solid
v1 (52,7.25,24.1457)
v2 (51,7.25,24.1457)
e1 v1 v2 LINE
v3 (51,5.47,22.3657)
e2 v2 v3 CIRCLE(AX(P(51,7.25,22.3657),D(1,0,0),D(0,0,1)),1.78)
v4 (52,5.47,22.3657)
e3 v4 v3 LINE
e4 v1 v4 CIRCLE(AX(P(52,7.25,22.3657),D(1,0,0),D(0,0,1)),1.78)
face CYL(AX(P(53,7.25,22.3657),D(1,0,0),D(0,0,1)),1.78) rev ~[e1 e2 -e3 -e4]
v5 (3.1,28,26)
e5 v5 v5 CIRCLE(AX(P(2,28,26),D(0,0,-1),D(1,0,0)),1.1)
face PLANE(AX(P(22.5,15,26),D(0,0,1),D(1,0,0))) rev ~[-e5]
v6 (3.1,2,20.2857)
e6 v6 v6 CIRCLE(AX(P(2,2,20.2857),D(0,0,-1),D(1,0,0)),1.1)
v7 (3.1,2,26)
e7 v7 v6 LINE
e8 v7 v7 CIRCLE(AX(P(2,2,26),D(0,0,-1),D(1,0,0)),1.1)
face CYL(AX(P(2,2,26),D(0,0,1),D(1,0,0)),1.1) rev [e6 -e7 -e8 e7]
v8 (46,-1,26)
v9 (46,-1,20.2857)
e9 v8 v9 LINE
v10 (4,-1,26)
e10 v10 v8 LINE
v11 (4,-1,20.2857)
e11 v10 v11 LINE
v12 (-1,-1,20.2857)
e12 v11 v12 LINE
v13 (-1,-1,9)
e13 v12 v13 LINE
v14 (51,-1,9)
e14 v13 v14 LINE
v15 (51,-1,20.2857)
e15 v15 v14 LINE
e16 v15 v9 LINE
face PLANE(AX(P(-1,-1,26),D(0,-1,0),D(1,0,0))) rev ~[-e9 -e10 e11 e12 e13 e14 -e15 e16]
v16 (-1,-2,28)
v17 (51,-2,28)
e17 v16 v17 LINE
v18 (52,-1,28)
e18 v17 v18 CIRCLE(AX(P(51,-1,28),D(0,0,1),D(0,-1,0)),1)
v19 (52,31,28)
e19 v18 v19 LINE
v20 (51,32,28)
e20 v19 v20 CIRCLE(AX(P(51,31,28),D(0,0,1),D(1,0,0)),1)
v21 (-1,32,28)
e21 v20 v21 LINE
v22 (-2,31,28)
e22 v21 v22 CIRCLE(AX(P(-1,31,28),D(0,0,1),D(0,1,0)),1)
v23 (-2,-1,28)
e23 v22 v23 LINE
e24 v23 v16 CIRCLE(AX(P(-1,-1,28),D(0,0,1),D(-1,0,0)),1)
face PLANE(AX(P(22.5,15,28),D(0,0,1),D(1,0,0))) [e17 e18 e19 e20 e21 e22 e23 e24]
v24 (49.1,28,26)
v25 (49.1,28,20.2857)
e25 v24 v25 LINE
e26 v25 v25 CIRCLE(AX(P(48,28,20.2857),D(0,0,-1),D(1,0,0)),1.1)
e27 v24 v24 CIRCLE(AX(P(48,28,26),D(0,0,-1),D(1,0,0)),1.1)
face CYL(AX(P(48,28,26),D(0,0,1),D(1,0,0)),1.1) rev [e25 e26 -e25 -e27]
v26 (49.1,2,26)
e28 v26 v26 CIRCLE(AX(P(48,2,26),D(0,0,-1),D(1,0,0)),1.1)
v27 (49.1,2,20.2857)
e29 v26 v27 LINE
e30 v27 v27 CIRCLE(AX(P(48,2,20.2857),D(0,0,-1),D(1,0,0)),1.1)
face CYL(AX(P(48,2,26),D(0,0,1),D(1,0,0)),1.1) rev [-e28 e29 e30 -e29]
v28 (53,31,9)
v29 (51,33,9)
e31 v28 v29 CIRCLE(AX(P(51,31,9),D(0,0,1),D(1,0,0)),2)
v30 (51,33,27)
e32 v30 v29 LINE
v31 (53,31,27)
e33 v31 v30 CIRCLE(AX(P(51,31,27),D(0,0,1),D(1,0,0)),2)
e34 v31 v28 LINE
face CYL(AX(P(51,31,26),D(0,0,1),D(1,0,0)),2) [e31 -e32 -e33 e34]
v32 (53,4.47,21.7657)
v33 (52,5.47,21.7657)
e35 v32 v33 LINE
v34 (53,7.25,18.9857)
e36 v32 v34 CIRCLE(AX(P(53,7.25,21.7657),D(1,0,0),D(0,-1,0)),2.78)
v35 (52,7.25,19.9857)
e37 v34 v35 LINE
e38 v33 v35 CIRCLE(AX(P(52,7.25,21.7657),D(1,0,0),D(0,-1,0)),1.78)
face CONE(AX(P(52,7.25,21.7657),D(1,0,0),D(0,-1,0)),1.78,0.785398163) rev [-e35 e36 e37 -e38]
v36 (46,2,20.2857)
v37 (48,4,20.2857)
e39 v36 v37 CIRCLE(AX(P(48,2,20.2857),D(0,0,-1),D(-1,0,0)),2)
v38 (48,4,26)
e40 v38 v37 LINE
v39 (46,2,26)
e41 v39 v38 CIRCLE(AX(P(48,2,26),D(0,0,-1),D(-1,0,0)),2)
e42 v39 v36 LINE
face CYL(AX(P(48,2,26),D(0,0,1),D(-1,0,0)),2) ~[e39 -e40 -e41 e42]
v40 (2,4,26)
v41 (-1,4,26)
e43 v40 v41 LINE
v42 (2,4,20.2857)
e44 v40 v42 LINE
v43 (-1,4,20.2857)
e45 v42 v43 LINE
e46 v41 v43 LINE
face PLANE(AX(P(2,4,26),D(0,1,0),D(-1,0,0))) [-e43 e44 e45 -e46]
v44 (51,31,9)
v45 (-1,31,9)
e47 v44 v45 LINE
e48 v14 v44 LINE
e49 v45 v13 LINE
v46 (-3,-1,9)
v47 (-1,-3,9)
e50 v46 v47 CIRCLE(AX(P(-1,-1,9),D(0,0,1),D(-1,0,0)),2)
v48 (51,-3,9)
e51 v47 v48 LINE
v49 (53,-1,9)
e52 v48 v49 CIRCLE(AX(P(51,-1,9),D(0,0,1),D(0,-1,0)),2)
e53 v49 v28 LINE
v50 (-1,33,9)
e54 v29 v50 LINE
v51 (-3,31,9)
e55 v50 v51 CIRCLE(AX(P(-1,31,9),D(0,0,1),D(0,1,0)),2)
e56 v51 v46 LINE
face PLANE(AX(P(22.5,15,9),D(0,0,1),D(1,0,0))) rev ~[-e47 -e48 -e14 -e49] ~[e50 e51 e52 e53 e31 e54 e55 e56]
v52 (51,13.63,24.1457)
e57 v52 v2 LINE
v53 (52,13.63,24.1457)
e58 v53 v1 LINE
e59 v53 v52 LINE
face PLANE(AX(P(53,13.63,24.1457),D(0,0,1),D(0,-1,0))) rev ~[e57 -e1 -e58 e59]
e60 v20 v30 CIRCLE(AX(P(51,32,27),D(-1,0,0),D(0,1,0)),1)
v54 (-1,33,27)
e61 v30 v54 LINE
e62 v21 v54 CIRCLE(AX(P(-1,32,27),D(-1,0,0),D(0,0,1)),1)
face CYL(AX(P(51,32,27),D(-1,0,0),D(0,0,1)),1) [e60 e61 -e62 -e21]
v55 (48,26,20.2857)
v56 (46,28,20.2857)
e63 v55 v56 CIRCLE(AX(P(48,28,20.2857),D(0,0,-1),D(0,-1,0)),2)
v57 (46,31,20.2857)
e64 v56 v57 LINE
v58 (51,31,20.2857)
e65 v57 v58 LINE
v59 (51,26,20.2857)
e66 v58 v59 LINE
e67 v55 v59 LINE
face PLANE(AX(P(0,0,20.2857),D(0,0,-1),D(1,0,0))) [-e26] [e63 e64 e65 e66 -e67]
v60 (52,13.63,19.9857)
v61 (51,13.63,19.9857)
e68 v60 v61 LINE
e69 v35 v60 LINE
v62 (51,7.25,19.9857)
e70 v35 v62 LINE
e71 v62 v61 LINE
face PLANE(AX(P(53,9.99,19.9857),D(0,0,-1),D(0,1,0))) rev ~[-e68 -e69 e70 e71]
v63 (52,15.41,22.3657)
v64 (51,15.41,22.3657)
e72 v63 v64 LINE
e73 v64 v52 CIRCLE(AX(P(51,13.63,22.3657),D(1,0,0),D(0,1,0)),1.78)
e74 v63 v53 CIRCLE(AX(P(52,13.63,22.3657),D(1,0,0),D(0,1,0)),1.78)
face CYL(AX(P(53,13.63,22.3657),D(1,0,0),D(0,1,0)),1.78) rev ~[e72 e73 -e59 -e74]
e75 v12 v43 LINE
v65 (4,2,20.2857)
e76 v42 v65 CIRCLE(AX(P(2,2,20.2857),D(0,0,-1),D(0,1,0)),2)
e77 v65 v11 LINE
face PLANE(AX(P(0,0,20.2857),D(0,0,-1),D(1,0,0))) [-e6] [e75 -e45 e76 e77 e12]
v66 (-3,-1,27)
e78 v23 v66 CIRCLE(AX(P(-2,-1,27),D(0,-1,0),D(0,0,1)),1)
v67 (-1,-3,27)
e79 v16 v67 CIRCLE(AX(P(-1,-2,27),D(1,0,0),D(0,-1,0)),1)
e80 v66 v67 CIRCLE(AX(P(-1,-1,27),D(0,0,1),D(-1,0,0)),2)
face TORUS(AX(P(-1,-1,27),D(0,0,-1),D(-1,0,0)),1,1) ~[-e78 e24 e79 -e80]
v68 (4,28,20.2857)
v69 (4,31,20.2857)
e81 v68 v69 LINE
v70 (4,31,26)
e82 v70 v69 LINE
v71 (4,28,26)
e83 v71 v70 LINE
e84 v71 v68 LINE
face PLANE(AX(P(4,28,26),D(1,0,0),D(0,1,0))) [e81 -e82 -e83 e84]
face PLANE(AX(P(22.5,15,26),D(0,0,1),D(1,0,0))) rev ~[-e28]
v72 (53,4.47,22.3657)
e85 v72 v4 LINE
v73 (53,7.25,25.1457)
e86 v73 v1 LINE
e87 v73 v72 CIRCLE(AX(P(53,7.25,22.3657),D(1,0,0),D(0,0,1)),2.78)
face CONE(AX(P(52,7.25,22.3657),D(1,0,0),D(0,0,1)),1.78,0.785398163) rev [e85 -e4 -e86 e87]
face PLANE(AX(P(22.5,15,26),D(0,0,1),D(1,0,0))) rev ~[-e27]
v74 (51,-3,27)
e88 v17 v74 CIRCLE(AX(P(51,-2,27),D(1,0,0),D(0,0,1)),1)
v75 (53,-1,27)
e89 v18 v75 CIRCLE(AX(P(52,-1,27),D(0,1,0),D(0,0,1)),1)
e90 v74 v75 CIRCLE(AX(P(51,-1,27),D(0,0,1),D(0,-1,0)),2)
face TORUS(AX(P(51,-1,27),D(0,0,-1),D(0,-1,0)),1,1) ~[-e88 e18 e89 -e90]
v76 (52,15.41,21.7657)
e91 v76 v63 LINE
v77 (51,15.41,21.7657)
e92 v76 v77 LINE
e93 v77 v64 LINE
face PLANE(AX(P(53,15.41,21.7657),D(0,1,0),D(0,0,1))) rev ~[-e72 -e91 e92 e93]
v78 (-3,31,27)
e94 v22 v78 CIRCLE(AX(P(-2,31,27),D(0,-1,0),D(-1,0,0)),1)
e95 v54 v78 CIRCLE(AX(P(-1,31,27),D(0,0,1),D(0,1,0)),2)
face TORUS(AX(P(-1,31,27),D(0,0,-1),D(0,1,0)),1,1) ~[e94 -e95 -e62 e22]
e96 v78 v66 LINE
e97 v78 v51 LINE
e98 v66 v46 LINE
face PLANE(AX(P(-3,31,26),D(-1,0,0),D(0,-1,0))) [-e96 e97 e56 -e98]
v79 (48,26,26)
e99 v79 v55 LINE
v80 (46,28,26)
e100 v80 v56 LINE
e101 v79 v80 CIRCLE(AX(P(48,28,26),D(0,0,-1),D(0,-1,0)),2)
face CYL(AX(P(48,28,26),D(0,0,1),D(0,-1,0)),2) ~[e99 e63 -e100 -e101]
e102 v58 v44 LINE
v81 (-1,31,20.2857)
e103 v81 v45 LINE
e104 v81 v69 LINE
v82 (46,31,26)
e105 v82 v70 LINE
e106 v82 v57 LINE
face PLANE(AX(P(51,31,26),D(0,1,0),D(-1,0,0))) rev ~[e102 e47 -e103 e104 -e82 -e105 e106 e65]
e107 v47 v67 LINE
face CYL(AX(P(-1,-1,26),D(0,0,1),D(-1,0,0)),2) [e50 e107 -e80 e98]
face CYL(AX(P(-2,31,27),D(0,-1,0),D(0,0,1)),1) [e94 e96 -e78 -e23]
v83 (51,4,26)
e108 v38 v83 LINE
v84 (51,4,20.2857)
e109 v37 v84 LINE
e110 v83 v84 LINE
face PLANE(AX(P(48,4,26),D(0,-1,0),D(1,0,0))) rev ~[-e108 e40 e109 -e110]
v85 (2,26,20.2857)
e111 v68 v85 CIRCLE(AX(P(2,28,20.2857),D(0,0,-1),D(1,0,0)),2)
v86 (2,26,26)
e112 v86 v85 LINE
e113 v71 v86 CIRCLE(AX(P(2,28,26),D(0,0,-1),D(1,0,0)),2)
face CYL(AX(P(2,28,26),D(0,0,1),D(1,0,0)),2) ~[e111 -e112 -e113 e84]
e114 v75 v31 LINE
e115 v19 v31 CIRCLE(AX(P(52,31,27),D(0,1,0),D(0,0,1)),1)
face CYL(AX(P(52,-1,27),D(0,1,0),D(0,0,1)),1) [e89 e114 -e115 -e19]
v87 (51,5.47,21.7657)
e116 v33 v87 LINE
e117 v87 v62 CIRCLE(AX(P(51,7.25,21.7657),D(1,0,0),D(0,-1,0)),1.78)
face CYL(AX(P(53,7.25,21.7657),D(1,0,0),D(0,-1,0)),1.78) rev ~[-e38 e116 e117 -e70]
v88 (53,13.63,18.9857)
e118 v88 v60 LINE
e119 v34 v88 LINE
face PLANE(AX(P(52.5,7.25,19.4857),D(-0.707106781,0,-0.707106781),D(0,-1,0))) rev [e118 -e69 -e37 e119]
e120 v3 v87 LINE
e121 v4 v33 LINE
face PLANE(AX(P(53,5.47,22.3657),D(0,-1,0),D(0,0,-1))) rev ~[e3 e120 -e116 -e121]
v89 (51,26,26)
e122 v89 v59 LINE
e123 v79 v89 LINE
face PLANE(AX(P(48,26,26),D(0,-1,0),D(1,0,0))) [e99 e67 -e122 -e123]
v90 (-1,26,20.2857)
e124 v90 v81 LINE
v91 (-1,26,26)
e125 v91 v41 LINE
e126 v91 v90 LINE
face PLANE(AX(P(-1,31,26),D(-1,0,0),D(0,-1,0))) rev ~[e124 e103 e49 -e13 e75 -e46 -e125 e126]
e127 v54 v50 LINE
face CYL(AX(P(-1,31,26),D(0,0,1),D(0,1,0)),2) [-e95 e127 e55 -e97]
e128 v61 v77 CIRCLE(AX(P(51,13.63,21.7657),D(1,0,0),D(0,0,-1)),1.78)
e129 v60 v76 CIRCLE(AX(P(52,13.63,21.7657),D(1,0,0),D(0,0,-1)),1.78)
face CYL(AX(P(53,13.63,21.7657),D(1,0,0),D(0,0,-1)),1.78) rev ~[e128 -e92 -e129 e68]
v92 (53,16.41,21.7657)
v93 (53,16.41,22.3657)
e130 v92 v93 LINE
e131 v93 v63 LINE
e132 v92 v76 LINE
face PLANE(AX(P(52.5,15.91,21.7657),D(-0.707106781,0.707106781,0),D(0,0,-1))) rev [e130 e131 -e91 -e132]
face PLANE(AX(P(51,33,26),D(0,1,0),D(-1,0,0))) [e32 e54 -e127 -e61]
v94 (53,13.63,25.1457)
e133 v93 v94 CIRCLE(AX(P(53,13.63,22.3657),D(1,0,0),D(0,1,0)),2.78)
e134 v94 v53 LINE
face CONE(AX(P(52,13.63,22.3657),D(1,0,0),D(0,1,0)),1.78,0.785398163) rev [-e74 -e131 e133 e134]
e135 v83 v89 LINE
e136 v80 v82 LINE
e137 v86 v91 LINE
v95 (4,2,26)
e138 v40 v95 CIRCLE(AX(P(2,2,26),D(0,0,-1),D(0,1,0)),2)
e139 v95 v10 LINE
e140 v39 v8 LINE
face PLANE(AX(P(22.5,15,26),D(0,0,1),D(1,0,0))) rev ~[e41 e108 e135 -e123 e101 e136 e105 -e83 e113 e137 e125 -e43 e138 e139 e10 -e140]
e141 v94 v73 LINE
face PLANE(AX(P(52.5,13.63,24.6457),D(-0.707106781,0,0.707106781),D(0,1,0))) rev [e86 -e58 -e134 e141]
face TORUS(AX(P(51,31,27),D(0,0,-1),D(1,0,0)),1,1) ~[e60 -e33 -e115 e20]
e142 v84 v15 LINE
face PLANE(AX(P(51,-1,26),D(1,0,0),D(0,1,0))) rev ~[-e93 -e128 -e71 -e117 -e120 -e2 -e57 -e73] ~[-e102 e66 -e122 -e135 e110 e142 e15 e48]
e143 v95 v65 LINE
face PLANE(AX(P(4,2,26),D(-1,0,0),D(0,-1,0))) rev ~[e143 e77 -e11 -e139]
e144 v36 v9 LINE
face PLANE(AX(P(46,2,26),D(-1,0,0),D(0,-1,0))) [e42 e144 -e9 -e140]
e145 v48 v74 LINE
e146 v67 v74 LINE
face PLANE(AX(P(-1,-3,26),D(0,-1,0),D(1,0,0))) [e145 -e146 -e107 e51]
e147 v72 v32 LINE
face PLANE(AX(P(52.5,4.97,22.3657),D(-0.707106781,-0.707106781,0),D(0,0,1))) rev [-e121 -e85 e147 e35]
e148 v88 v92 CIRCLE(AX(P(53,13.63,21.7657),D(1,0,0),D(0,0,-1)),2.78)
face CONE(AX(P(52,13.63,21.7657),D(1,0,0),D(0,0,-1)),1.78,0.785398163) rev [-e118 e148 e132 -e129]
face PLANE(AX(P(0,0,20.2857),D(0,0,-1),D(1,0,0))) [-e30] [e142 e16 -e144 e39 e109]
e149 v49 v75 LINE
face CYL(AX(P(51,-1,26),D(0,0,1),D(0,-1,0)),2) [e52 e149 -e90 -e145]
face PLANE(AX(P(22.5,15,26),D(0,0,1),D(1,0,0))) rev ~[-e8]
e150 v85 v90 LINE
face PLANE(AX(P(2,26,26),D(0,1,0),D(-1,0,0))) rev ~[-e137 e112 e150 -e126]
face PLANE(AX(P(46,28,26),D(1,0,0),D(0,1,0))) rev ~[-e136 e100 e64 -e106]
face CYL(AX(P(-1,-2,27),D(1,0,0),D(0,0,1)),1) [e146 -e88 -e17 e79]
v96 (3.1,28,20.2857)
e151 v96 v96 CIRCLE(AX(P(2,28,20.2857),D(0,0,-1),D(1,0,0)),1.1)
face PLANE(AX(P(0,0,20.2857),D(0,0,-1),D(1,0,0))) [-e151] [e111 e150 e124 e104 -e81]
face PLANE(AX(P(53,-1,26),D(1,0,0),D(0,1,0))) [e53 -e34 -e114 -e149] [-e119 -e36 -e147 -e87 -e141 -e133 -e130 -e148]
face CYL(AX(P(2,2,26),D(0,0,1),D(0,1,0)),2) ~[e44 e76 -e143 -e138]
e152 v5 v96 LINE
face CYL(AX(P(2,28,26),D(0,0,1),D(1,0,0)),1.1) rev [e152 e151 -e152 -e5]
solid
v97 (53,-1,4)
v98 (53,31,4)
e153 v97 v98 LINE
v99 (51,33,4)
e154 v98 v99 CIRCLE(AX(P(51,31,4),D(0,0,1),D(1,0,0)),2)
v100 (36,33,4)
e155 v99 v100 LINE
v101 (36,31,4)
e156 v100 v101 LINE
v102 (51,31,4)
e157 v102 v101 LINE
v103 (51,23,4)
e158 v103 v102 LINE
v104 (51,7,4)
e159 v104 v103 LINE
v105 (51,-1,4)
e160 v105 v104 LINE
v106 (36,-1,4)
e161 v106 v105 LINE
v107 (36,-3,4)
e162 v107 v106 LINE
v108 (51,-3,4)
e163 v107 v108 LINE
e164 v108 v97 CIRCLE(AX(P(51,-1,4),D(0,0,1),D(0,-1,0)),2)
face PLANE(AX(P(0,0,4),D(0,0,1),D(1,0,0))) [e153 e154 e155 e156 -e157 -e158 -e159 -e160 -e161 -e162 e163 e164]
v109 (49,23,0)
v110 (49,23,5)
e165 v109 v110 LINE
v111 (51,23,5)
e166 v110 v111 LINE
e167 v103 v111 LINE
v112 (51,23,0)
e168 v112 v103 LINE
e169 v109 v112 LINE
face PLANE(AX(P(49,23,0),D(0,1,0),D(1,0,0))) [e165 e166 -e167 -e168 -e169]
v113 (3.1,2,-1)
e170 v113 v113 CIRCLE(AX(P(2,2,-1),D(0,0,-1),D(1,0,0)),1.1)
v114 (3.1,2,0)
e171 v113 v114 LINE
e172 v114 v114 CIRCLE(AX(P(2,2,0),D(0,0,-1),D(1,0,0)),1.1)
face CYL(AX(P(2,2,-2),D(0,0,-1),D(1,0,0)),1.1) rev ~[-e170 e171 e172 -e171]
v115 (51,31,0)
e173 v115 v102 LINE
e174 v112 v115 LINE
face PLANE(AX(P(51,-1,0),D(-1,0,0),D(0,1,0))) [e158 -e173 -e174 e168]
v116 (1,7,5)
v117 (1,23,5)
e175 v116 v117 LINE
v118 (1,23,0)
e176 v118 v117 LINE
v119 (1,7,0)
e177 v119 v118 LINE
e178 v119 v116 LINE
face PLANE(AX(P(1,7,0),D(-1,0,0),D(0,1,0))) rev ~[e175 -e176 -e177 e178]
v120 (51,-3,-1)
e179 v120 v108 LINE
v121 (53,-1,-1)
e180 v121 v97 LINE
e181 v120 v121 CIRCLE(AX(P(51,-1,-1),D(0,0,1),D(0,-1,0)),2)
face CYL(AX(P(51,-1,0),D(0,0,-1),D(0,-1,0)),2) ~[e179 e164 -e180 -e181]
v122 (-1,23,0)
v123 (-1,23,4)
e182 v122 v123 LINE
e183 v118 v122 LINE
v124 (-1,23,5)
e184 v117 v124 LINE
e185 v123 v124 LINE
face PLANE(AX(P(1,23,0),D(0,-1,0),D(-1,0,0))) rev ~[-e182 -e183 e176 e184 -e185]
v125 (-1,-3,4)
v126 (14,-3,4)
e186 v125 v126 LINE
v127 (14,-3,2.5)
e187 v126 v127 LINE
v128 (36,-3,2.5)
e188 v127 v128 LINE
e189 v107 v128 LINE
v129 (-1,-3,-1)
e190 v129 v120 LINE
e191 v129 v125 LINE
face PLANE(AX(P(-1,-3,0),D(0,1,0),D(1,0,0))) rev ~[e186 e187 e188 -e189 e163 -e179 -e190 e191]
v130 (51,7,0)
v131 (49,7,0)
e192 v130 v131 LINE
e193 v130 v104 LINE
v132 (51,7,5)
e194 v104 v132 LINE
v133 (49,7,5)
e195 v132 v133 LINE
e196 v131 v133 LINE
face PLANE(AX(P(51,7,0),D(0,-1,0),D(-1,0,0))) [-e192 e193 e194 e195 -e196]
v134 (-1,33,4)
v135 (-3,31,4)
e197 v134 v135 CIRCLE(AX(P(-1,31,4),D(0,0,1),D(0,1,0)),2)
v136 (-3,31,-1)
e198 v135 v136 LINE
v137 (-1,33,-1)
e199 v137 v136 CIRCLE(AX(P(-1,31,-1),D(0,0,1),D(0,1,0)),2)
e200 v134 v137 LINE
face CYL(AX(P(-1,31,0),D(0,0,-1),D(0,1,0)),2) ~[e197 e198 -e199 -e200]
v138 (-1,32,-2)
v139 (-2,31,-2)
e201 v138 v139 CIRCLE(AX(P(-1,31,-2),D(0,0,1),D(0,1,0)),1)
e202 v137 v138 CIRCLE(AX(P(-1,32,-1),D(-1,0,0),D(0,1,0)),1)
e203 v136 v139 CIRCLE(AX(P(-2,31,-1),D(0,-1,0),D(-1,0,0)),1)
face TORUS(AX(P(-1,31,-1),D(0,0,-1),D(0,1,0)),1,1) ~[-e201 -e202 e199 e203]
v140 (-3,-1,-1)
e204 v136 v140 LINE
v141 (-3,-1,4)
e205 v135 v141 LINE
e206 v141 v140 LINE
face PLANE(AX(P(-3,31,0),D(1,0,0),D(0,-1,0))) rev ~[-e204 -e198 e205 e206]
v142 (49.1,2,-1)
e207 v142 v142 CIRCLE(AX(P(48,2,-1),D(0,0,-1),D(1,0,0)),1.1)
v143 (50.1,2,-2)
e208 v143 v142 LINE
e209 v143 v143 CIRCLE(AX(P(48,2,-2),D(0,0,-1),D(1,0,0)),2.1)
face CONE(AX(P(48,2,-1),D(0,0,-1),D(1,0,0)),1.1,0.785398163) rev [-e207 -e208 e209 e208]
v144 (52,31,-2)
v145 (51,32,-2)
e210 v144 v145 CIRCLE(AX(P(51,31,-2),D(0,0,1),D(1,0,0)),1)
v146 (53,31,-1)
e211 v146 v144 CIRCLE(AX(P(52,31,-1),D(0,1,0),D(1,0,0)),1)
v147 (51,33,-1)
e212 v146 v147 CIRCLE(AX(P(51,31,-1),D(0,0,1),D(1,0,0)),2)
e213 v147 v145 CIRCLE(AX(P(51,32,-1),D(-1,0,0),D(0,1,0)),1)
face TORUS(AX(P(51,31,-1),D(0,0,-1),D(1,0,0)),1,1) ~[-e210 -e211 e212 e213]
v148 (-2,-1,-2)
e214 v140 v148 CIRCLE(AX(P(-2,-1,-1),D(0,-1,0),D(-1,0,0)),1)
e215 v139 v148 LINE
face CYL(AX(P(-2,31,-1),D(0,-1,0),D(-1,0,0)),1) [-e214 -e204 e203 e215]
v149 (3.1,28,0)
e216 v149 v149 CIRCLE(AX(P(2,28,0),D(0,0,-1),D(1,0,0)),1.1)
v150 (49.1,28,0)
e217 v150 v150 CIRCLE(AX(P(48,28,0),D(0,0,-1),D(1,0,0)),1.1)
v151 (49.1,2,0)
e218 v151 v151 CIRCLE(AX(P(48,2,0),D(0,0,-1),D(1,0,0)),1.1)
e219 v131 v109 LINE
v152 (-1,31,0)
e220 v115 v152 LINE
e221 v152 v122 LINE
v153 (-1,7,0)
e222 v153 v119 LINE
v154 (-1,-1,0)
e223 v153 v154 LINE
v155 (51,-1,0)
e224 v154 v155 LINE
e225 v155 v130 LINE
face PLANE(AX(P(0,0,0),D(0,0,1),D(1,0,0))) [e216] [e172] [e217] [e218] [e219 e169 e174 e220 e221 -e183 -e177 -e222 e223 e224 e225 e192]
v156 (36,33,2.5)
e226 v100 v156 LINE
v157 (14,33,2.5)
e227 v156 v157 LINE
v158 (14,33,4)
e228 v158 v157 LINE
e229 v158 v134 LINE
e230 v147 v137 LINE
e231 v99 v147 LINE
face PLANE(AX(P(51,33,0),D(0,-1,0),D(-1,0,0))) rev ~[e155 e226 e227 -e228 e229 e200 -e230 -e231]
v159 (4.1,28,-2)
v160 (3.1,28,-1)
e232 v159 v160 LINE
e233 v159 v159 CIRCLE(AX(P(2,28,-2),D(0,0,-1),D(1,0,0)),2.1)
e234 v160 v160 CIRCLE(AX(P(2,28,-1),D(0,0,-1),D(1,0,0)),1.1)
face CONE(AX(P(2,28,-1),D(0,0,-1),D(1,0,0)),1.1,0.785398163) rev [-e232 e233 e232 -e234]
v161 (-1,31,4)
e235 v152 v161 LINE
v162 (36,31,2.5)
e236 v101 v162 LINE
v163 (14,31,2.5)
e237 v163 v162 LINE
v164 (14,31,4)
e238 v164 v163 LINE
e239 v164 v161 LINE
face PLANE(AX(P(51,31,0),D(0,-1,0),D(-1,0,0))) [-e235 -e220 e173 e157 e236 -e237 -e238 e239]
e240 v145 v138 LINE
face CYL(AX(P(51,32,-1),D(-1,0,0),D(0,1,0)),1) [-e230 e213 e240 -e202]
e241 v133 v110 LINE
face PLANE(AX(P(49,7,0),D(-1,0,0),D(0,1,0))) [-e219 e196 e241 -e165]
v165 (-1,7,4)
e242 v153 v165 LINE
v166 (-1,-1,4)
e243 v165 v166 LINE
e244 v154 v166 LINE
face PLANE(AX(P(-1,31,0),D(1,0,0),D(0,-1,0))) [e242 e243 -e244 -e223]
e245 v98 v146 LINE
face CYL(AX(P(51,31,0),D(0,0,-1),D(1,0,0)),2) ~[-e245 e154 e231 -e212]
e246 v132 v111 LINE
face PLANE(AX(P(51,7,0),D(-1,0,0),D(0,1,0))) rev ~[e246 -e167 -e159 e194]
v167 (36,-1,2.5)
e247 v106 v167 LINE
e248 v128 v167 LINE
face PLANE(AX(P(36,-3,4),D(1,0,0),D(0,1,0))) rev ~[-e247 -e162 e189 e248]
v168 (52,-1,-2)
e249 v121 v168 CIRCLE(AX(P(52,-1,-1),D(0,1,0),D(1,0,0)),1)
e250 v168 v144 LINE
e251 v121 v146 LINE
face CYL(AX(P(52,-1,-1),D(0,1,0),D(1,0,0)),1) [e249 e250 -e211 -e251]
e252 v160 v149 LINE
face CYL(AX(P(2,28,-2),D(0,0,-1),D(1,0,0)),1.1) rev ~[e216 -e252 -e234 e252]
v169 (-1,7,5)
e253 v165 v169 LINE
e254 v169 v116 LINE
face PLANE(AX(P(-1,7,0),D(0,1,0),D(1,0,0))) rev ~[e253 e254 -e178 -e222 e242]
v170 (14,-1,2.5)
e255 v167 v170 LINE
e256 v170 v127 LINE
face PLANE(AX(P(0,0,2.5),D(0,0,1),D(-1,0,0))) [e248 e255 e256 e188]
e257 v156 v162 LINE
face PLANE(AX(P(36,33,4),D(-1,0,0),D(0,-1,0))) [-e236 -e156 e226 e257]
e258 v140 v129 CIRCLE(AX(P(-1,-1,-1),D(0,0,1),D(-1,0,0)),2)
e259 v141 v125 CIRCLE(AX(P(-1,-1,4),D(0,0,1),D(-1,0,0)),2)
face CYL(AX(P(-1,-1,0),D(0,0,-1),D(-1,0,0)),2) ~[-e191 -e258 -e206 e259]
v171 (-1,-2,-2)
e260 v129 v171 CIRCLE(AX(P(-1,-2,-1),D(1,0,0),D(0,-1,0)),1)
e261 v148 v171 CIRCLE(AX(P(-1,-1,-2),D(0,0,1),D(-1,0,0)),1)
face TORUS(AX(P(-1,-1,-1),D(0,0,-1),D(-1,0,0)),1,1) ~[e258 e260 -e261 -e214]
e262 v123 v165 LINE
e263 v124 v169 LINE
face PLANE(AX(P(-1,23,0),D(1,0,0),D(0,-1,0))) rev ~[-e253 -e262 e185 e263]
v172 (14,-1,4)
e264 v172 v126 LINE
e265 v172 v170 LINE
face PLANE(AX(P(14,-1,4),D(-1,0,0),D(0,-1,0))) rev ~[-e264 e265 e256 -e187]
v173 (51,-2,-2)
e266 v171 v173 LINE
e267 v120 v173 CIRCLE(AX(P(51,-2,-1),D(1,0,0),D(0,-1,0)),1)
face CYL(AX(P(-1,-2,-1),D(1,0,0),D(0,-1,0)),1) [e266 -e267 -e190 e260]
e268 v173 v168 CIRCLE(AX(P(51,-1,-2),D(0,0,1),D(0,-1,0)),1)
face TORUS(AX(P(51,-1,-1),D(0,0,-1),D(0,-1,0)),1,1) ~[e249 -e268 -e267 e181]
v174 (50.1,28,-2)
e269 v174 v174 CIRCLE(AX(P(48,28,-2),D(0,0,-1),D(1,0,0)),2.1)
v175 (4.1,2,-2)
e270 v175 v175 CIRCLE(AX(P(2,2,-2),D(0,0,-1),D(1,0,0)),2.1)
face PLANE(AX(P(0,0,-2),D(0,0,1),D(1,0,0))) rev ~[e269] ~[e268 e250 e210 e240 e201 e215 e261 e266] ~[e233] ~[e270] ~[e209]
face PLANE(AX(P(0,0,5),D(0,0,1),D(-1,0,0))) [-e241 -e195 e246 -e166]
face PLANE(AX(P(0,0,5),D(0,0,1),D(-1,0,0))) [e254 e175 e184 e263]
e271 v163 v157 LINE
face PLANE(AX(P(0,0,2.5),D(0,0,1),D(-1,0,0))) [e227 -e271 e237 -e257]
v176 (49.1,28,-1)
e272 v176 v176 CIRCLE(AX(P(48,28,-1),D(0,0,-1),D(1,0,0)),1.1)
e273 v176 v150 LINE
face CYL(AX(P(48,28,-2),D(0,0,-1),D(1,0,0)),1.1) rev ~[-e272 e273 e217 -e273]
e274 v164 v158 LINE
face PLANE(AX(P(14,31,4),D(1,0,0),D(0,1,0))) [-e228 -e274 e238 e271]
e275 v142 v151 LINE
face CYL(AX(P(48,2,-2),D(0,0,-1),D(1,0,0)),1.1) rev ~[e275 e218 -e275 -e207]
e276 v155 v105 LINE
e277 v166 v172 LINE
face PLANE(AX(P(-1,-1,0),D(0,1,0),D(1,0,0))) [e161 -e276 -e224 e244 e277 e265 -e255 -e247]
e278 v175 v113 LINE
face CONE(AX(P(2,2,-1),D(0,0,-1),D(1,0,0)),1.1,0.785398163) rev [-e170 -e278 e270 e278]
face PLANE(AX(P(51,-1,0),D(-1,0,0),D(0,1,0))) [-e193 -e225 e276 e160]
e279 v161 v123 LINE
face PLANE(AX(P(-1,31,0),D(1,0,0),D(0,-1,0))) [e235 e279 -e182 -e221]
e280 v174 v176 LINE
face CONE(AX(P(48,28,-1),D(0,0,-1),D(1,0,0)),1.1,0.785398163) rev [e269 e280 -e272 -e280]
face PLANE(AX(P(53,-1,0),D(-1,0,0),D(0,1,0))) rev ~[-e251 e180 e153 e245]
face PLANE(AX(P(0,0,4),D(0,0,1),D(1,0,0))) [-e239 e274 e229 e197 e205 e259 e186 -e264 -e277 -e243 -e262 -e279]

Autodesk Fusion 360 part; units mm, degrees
sketch "Sketch1" plane through (0, 0, 0) normal (0, 0, 1) x (1, 0, 0) in component "Enclosure-Bottom"
  line L0 (0, 0) -> (50, 0) construction
  line L1 (50, 0) -> (50, 30) construction
  line L2 (50, 30) -> (0, 30) construction
  line L3 (0, 30) -> (0, 0) construction
  line L4 (-1, -1) -> (51, -1)
  line L5 (51, -1) -> (51, 31)
  line L6 (51, 31) -> (-1, 31)
  line L7 (-1, 31) -> (-1, -1)
  line L8 (-1, -3) -> (51, -3)
  line L9 (53, -1) -> (53, 31)
  line L10 (51, 33) -> (-1, 33)
  line L11 (-3, 31) -> (-3, -1)
  arc A0 (53, 31) -> (51, 33) centre (51, 31) ccw
  arc A1 (-1, 33) -> (-3, 31) centre (-1, 31) ccw
  arc A2 (-3, -1) -> (-1, -3) centre (-1, -1) ccw
  arc A3 (51, -3) -> (53, -1) centre (51, -1) ccw
  dimension "d1" = 50
  dimension "d2" = 30
  dimension "d5" = 1
  dimension "d9" = 2
  dimension "d23" = 3
  dimension "d25" = 3
  dimension "d26" = 3
  dimension "d27" = 3
extrude "Extrude1" add sketch "Sketch1" against normal blind 2 contours L4 L5 L6 L7 | L8 L9 L10 L11 A0 A1 A2 A3 makes body 1 in component "Enclosure-Bottom"
extrude "Extrude2" add sketch "Sketch1" along normal blind 4 bodies 1 in component "Enclosure-Bottom"
ref_plane "WorkPlane1" through (25, 15, 26) normal (0, 0, 1) x (1, 0, 0)
sketch "Sketch1 (2)" plane through (22.5, 15, 26) normal (0, 0, 1) x (1, 0, 0) in component "Enclosure-Top"
  line L0 (-23.5, -16) -> (28.5, -16)
  line L1 (-23.5, 16) -> (-23.5, -16)
  line L2 (28.5, 16) -> (-23.5, 16)
  line L3 (28.5, -16) -> (28.5, 16)
  line L4 (-23.5, -18) -> (28.5, -18)
  arc A0 (28.5, -18) -> (30.5, -16) centre (28.5, -16) ccw
  line L5 (30.5, -16) -> (30.5, 16)
  line L6 (-25.5, 16) -> (-25.5, -16)
  arc A1 (-25.5, -16) -> (-23.5, -18) centre (-23.5, -16) ccw
  line L7 (28.5, 18) -> (-23.5, 18)
  arc A2 (-23.5, 18) -> (-25.5, 16) centre (-23.5, 16) ccw
  arc A3 (30.5, 16) -> (28.5, 18) centre (28.5, 16) ccw
extrude "Extrude1'" add sketch "Sketch1 (2)" against normal blind 17 separate body makes body 2 in component "Enclosure-Top"
extrude "Extrude2'" add sketch "Sketch1 (2)" along normal blind 2 contours L0 L1 L2 L3 | L4 A0 L5 L6 A1 L7 A2 A3 bodies 2 in component "Enclosure-Top"
fillet "Fillet1" radius 1 8 edges at (53, 15, 28) (52.4142, 32.4142, 28) (25, 33, 28) (-2.4142, 32.4142, 28) (-3, 15, 28) (-2.4142, -2.4142, 28) (25, -3, 28) (52.4142, -2.4142, 28) on bodies 2 in component "Enclosure-Top"
fillet "Fillet1'" radius 1 8 edges at (-3, 15, -2) (-2.4142, 32.4142, -2) (25, 33, -2) (52.4142, 32.4142, -2) (53, 15, -2) (52.4142, -2.4142, -2) (25, -3, -2) (-2.4142, -2.4142, -2) on bodies 1 in component "Enclosure-Bottom"
sketch "Sketch2" plane through (0, 0, 26) normal (0, 0, -1) x (1, 0, 0) in component "Enclosure-Top"
  line L0 (51, 1) -> (-1, 1)
  line L1 (-1, 1) -> (-1, -31)
  line L2 (-1, -31) -> (51, -31)
  line L3 (51, -31) -> (51, 1)
  line L4 (51, -2) -> (-1, -2) construction
  line L5 (2, 1) -> (2, -31) construction
  line L6 (-1, 1) -> (51, 1)
  line L7 (-1, -31) -> (-1, 1)
  line L8 (51, 1) -> (51, -31)
  line L9 (51, -31) -> (-1, -31)
  line L10 (25, 1) -> (25, -31) construction
  line L11 (51, -15) -> (-1, -15) construction
  line L12 (51, -28) -> (-1, -28) construction
  line L13 (48, 1) -> (48, -31) construction
  circle A0 centre (48, -2) radius 1.1
  line L14 (48, -4) -> (51, -4)
  line L15 (46, -2) -> (46, 1)
  arc A1 (46, -2) -> (48, -4) centre (48, -2) ccw
  circle A2 centre (2, -2) radius 1.1
  line L16 (4, -2) -> (4, 1)
  arc A3 (2, -4) -> (4, -2) centre (2, -2) ccw
  line L17 (2, -4) -> (-1, -4)
  circle A4 centre (2, -28) radius 1.1
  line L18 (4, -28) -> (4, -31)
  arc A5 (4, -28) -> (2, -26) centre (2, -28) ccw
  line L19 (2, -26) -> (-1, -26)
  line L20 (48, -26) -> (51, -26)
  circle A6 centre (48, -28) radius 1.1
  arc A7 (48, -26) -> (46, -28) centre (48, -28) ccw
  line L21 (46, -28) -> (46, -31)
  dimension "d28" = 3
  dimension "d29" = 3
  dimension "d30" = 2.2
  dimension "d31" = 4
extrude "Extrude3" add sketch "Sketch2" along normal blind 5.7143 contours L0 L3 L6 L8 L14 L15 A1 | L0 L1 L6 L7 L16 A3 L17 | L2 L3 L8 L9 L20 A7 L21 | L1 L2 L7 L9 L18 A5 L19 bodies 2 in component "Enclosure-Top"
sketch "Sketch2 (2)" plane through (0, 0, 0) normal (0, 0, 1) x (-1, 0, 0) in component "Enclosure-Bottom"
  line L0 (1, 1) -> (-51, 1)
  line L1 (-51, 1) -> (-51, -31)
  line L2 (-51, -31) -> (1, -31)
  line L3 (1, -31) -> (1, 1)
  line L4 (1, -31) -> (-51, -31)
  line L5 (-51, -31) -> (-51, 1)
  line L6 (1, 1) -> (1, -31)
  line L7 (-51, 1) -> (1, 1)
  line L8 (-25, -31) -> (-25, 1) construction
  line L9 (-51, -15) -> (1, -15) construction
  line L10 (-49, -23) -> (-51, -23)
  line L11 (-51, -23) -> (-51, -7)
  line L12 (-51, -7) -> (-49, -7)
  line L13 (-49, -7) -> (-49, -23)
  line L14 (-1, -7) -> (-1, -23)
  line L15 (-1, -23) -> (1, -23)
  line L16 (1, -7) -> (-1, -7)
  dimension "d44" = 2
  dimension "d45" = 16
  dimension "d46" = 8
extrude "Extrude3'" add sketch "Sketch2 (2)" along normal blind 5 contours L3 L6 L14 L15 L16 | L1 L5 L10 L11 L12 L13 bodies 1 in component "Enclosure-Bottom"
sketch "Sketch4" plane through (0, 0, -2) normal (0, 0, -1) x (1, 0, 0) in component "Enclosure-Bottom"
  line L0 (-2, 1) -> (-2, -31)
  arc A0 (-2, -31) -> (-1, -32) centre (-1, -31) ccw
  line L1 (-1, -32) -> (51, -32)
  arc A1 (51, -32) -> (52, -31) centre (51, -31) ccw
  line L2 (52, -31) -> (52, 1)
  arc A2 (52, 1) -> (51, 2) centre (51, 1) ccw
  line L3 (51, 2) -> (-1, 2)
  arc A3 (-1, 2) -> (-2, 1) centre (-1, 1) ccw
  circle A4 centre (48, -2) radius 1.1
  circle A5 centre (2, -2) radius 1.1
  circle A6 centre (2, -28) radius 1.1
  circle A7 centre (48, -28) radius 1.1
extrude "Extrude4" cut sketch "Sketch4" against normal up to surface (2 mm away) contours A4 | A5 | A6 | A7 bodies 1 in component "Enclosure-Bottom"
chamfer "Chamfer1" distance 1 angle 45 4 edges at (0.9744, 27.6022, -2) (46.9744, 27.6022, -2) (46.9744, 1.6022, -2) (0.9744, 1.6022, -2) on bodies 1 in component "Enclosure-Bottom"
sketch "Sketch5" plane through (0, 0, 4) normal (0, 0, 1) x (-1, 0, 0) in component "Enclosure-Bottom"
  line L0 (1, 1) -> (1, -7)
  line L1 (1, -7) -> (1, -23)
  line L2 (1, -23) -> (1, -31)
  line L3 (1, -31) -> (-51, -31)
  line L4 (-51, -31) -> (-51, -23)
  line L5 (-51, -23) -> (-51, -7)
  line L6 (-51, -7) -> (-51, 1)
  line L7 (-51, 1) -> (1, 1) construction
  arc A0 (-51, 3) -> (-53, 1) centre (-51, 1) ccw
  line L8 (-53, 1) -> (-53, -31)
  arc A1 (-53, -31) -> (-51, -33) centre (-51, -31) ccw
  line L9 (-51, -33) -> (1, -33)
  arc A2 (1, -33) -> (3, -31) centre (1, -31) ccw
  line L10 (3, -31) -> (3, 1)
  arc A3 (3, 1) -> (1, 3) centre (1, 1) ccw
  line L11 (1, 3) -> (-51, 3)
  line L12 (1, -31) -> (-51, -31) construction
  line L13 (-51, 1) -> (1, 1)
  line L14 (-25, -31) -> (-25, 1) construction
  line L15 (-51, -15) -> (0, -15) construction
  line L16 (-14, -33) -> (-36, -33)
  line L17 (-36, -33) -> (-36, -31)
  line L18 (-36, -31) -> (-14, -31)
  line L19 (-14, -31) -> (-14, -33)
  line L20 (-14, 1) -> (-14, 3)
  line L21 (-14, 3) -> (-36, 3)
  line L22 (-36, 1) -> (-14, 1)
  line L23 (-36, 3) -> (-36, 1)
  dimension "d50" = 22
  dimension "d51" = 2
  dimension "d52" = 11
extrude "Extrude5" cut sketch "Sketch5" against normal blind 1.5 contours L11 L13 L20 L21 L22 L23 | L3 L9 L16 L17 L18 L19 bodies 1 in component "Enclosure-Bottom"
sketch "Sketch3" plane through (53, 0, 0) normal (1, 0, 0) x (0, 1, 0) in component "Enclosure-Top"
  line L0 (31, 27) -> (-1, 27)
  line L1 (-1, 27) -> (-1, 9)
  line L2 (-1, 9) -> (31, 9)
  line L3 (31, 9) -> (31, 27)
  line L4 (9.99, 19.9857) -> (13.63, 19.9857)
  arc A0 (13.63, 19.9857) -> (15.41, 21.7657) centre (13.63, 21.7657) ccw
  line L5 (15.41, 21.7657) -> (15.41, 22.3657)
  arc A1 (15.41, 22.3657) -> (13.63, 24.1457) centre (13.63, 22.3657) ccw
  line L6 (13.63, 24.1457) -> (7.25, 24.1457)
  arc A2 (7.25, 24.1457) -> (5.47, 22.3657) centre (7.25, 22.3657) ccw
  line L7 (5.47, 22.3657) -> (5.47, 21.7657)
  arc A3 (5.47, 21.7657) -> (7.25, 19.9857) centre (7.25, 21.7657) ccw
  line L8 (7.25, 19.9857) -> (9.94, 19.9857)
  line L9 (9.99, 19.9857) -> (9.94, 19.9857)
extrude "Extrude4'" cut sketch "Sketch3" against normal up to surface (2 mm away) contours L4 A0 L5 A1 L6 A2 L7 A3 L8 L9 bodies 2 in component "Enclosure-Top"
chamfer "Chamfer1'" distance 1 angle 45 8 edges at (53, 14.8887, 23.6244) (53, 15.41, 22.0657) (53, 14.8887, 20.5071) (53, 10.44, 19.9857) (53, 5.9913, 20.5071) (53, 5.47, 22.0657) (53, 5.9913, 23.6244) (53, 10.44, 24.1457) on bodies 2 in component "Enclosure-Top"
component "Enclosure-Bottom" placed x (1, 0, 0) y (0, 1, 0) z (0, 0, 1) at (0, 0, 0)
component "Enclosure-Top" placed x (1, 0, 0) y (0, 1, 0) z (0, 0, 1) at (0, 0, 0)
equation "d1 = length"
equation "d2 = width"
equation "wall_thickness = 2 mm"
equation "margin = 1 mm"
equation "d5 = margin"
equation "fillet_radius = 2 mm"
equation "height = 20 mm"
equation "d9 = fillet_radius"
equation "d10 = -wall_thickness"
equation "d12 = height / 5"
equation "d14 = height + wall_thickness"
equation "d15 = -height * 0.85"
equation "d17 = wall_thickness"
equation "d20 = 0.5 * fillet_radius"
equation "d22 = 0.5 * fillet_radius"
equation "d23 = wall_thickness + margin"
equation "d25 = wall_thickness + margin"
equation "d26 = wall_thickness + margin"
equation "d27 = wall_thickness + margin"
equation "d28 = 2 mm + margin"
equation "d29 = 2 mm + margin"
equation "d32 = height / 3.5"
equation "d37 = height / 4"
equation "length = 50 mm"
equation "width = 30 mm"
equation "d44 = wall_thickness"
equation "d45 = wall_thickness * 8"
equation "d46 = ( wall_thickness * 4 )"
equation "d51 = wall_thickness"
